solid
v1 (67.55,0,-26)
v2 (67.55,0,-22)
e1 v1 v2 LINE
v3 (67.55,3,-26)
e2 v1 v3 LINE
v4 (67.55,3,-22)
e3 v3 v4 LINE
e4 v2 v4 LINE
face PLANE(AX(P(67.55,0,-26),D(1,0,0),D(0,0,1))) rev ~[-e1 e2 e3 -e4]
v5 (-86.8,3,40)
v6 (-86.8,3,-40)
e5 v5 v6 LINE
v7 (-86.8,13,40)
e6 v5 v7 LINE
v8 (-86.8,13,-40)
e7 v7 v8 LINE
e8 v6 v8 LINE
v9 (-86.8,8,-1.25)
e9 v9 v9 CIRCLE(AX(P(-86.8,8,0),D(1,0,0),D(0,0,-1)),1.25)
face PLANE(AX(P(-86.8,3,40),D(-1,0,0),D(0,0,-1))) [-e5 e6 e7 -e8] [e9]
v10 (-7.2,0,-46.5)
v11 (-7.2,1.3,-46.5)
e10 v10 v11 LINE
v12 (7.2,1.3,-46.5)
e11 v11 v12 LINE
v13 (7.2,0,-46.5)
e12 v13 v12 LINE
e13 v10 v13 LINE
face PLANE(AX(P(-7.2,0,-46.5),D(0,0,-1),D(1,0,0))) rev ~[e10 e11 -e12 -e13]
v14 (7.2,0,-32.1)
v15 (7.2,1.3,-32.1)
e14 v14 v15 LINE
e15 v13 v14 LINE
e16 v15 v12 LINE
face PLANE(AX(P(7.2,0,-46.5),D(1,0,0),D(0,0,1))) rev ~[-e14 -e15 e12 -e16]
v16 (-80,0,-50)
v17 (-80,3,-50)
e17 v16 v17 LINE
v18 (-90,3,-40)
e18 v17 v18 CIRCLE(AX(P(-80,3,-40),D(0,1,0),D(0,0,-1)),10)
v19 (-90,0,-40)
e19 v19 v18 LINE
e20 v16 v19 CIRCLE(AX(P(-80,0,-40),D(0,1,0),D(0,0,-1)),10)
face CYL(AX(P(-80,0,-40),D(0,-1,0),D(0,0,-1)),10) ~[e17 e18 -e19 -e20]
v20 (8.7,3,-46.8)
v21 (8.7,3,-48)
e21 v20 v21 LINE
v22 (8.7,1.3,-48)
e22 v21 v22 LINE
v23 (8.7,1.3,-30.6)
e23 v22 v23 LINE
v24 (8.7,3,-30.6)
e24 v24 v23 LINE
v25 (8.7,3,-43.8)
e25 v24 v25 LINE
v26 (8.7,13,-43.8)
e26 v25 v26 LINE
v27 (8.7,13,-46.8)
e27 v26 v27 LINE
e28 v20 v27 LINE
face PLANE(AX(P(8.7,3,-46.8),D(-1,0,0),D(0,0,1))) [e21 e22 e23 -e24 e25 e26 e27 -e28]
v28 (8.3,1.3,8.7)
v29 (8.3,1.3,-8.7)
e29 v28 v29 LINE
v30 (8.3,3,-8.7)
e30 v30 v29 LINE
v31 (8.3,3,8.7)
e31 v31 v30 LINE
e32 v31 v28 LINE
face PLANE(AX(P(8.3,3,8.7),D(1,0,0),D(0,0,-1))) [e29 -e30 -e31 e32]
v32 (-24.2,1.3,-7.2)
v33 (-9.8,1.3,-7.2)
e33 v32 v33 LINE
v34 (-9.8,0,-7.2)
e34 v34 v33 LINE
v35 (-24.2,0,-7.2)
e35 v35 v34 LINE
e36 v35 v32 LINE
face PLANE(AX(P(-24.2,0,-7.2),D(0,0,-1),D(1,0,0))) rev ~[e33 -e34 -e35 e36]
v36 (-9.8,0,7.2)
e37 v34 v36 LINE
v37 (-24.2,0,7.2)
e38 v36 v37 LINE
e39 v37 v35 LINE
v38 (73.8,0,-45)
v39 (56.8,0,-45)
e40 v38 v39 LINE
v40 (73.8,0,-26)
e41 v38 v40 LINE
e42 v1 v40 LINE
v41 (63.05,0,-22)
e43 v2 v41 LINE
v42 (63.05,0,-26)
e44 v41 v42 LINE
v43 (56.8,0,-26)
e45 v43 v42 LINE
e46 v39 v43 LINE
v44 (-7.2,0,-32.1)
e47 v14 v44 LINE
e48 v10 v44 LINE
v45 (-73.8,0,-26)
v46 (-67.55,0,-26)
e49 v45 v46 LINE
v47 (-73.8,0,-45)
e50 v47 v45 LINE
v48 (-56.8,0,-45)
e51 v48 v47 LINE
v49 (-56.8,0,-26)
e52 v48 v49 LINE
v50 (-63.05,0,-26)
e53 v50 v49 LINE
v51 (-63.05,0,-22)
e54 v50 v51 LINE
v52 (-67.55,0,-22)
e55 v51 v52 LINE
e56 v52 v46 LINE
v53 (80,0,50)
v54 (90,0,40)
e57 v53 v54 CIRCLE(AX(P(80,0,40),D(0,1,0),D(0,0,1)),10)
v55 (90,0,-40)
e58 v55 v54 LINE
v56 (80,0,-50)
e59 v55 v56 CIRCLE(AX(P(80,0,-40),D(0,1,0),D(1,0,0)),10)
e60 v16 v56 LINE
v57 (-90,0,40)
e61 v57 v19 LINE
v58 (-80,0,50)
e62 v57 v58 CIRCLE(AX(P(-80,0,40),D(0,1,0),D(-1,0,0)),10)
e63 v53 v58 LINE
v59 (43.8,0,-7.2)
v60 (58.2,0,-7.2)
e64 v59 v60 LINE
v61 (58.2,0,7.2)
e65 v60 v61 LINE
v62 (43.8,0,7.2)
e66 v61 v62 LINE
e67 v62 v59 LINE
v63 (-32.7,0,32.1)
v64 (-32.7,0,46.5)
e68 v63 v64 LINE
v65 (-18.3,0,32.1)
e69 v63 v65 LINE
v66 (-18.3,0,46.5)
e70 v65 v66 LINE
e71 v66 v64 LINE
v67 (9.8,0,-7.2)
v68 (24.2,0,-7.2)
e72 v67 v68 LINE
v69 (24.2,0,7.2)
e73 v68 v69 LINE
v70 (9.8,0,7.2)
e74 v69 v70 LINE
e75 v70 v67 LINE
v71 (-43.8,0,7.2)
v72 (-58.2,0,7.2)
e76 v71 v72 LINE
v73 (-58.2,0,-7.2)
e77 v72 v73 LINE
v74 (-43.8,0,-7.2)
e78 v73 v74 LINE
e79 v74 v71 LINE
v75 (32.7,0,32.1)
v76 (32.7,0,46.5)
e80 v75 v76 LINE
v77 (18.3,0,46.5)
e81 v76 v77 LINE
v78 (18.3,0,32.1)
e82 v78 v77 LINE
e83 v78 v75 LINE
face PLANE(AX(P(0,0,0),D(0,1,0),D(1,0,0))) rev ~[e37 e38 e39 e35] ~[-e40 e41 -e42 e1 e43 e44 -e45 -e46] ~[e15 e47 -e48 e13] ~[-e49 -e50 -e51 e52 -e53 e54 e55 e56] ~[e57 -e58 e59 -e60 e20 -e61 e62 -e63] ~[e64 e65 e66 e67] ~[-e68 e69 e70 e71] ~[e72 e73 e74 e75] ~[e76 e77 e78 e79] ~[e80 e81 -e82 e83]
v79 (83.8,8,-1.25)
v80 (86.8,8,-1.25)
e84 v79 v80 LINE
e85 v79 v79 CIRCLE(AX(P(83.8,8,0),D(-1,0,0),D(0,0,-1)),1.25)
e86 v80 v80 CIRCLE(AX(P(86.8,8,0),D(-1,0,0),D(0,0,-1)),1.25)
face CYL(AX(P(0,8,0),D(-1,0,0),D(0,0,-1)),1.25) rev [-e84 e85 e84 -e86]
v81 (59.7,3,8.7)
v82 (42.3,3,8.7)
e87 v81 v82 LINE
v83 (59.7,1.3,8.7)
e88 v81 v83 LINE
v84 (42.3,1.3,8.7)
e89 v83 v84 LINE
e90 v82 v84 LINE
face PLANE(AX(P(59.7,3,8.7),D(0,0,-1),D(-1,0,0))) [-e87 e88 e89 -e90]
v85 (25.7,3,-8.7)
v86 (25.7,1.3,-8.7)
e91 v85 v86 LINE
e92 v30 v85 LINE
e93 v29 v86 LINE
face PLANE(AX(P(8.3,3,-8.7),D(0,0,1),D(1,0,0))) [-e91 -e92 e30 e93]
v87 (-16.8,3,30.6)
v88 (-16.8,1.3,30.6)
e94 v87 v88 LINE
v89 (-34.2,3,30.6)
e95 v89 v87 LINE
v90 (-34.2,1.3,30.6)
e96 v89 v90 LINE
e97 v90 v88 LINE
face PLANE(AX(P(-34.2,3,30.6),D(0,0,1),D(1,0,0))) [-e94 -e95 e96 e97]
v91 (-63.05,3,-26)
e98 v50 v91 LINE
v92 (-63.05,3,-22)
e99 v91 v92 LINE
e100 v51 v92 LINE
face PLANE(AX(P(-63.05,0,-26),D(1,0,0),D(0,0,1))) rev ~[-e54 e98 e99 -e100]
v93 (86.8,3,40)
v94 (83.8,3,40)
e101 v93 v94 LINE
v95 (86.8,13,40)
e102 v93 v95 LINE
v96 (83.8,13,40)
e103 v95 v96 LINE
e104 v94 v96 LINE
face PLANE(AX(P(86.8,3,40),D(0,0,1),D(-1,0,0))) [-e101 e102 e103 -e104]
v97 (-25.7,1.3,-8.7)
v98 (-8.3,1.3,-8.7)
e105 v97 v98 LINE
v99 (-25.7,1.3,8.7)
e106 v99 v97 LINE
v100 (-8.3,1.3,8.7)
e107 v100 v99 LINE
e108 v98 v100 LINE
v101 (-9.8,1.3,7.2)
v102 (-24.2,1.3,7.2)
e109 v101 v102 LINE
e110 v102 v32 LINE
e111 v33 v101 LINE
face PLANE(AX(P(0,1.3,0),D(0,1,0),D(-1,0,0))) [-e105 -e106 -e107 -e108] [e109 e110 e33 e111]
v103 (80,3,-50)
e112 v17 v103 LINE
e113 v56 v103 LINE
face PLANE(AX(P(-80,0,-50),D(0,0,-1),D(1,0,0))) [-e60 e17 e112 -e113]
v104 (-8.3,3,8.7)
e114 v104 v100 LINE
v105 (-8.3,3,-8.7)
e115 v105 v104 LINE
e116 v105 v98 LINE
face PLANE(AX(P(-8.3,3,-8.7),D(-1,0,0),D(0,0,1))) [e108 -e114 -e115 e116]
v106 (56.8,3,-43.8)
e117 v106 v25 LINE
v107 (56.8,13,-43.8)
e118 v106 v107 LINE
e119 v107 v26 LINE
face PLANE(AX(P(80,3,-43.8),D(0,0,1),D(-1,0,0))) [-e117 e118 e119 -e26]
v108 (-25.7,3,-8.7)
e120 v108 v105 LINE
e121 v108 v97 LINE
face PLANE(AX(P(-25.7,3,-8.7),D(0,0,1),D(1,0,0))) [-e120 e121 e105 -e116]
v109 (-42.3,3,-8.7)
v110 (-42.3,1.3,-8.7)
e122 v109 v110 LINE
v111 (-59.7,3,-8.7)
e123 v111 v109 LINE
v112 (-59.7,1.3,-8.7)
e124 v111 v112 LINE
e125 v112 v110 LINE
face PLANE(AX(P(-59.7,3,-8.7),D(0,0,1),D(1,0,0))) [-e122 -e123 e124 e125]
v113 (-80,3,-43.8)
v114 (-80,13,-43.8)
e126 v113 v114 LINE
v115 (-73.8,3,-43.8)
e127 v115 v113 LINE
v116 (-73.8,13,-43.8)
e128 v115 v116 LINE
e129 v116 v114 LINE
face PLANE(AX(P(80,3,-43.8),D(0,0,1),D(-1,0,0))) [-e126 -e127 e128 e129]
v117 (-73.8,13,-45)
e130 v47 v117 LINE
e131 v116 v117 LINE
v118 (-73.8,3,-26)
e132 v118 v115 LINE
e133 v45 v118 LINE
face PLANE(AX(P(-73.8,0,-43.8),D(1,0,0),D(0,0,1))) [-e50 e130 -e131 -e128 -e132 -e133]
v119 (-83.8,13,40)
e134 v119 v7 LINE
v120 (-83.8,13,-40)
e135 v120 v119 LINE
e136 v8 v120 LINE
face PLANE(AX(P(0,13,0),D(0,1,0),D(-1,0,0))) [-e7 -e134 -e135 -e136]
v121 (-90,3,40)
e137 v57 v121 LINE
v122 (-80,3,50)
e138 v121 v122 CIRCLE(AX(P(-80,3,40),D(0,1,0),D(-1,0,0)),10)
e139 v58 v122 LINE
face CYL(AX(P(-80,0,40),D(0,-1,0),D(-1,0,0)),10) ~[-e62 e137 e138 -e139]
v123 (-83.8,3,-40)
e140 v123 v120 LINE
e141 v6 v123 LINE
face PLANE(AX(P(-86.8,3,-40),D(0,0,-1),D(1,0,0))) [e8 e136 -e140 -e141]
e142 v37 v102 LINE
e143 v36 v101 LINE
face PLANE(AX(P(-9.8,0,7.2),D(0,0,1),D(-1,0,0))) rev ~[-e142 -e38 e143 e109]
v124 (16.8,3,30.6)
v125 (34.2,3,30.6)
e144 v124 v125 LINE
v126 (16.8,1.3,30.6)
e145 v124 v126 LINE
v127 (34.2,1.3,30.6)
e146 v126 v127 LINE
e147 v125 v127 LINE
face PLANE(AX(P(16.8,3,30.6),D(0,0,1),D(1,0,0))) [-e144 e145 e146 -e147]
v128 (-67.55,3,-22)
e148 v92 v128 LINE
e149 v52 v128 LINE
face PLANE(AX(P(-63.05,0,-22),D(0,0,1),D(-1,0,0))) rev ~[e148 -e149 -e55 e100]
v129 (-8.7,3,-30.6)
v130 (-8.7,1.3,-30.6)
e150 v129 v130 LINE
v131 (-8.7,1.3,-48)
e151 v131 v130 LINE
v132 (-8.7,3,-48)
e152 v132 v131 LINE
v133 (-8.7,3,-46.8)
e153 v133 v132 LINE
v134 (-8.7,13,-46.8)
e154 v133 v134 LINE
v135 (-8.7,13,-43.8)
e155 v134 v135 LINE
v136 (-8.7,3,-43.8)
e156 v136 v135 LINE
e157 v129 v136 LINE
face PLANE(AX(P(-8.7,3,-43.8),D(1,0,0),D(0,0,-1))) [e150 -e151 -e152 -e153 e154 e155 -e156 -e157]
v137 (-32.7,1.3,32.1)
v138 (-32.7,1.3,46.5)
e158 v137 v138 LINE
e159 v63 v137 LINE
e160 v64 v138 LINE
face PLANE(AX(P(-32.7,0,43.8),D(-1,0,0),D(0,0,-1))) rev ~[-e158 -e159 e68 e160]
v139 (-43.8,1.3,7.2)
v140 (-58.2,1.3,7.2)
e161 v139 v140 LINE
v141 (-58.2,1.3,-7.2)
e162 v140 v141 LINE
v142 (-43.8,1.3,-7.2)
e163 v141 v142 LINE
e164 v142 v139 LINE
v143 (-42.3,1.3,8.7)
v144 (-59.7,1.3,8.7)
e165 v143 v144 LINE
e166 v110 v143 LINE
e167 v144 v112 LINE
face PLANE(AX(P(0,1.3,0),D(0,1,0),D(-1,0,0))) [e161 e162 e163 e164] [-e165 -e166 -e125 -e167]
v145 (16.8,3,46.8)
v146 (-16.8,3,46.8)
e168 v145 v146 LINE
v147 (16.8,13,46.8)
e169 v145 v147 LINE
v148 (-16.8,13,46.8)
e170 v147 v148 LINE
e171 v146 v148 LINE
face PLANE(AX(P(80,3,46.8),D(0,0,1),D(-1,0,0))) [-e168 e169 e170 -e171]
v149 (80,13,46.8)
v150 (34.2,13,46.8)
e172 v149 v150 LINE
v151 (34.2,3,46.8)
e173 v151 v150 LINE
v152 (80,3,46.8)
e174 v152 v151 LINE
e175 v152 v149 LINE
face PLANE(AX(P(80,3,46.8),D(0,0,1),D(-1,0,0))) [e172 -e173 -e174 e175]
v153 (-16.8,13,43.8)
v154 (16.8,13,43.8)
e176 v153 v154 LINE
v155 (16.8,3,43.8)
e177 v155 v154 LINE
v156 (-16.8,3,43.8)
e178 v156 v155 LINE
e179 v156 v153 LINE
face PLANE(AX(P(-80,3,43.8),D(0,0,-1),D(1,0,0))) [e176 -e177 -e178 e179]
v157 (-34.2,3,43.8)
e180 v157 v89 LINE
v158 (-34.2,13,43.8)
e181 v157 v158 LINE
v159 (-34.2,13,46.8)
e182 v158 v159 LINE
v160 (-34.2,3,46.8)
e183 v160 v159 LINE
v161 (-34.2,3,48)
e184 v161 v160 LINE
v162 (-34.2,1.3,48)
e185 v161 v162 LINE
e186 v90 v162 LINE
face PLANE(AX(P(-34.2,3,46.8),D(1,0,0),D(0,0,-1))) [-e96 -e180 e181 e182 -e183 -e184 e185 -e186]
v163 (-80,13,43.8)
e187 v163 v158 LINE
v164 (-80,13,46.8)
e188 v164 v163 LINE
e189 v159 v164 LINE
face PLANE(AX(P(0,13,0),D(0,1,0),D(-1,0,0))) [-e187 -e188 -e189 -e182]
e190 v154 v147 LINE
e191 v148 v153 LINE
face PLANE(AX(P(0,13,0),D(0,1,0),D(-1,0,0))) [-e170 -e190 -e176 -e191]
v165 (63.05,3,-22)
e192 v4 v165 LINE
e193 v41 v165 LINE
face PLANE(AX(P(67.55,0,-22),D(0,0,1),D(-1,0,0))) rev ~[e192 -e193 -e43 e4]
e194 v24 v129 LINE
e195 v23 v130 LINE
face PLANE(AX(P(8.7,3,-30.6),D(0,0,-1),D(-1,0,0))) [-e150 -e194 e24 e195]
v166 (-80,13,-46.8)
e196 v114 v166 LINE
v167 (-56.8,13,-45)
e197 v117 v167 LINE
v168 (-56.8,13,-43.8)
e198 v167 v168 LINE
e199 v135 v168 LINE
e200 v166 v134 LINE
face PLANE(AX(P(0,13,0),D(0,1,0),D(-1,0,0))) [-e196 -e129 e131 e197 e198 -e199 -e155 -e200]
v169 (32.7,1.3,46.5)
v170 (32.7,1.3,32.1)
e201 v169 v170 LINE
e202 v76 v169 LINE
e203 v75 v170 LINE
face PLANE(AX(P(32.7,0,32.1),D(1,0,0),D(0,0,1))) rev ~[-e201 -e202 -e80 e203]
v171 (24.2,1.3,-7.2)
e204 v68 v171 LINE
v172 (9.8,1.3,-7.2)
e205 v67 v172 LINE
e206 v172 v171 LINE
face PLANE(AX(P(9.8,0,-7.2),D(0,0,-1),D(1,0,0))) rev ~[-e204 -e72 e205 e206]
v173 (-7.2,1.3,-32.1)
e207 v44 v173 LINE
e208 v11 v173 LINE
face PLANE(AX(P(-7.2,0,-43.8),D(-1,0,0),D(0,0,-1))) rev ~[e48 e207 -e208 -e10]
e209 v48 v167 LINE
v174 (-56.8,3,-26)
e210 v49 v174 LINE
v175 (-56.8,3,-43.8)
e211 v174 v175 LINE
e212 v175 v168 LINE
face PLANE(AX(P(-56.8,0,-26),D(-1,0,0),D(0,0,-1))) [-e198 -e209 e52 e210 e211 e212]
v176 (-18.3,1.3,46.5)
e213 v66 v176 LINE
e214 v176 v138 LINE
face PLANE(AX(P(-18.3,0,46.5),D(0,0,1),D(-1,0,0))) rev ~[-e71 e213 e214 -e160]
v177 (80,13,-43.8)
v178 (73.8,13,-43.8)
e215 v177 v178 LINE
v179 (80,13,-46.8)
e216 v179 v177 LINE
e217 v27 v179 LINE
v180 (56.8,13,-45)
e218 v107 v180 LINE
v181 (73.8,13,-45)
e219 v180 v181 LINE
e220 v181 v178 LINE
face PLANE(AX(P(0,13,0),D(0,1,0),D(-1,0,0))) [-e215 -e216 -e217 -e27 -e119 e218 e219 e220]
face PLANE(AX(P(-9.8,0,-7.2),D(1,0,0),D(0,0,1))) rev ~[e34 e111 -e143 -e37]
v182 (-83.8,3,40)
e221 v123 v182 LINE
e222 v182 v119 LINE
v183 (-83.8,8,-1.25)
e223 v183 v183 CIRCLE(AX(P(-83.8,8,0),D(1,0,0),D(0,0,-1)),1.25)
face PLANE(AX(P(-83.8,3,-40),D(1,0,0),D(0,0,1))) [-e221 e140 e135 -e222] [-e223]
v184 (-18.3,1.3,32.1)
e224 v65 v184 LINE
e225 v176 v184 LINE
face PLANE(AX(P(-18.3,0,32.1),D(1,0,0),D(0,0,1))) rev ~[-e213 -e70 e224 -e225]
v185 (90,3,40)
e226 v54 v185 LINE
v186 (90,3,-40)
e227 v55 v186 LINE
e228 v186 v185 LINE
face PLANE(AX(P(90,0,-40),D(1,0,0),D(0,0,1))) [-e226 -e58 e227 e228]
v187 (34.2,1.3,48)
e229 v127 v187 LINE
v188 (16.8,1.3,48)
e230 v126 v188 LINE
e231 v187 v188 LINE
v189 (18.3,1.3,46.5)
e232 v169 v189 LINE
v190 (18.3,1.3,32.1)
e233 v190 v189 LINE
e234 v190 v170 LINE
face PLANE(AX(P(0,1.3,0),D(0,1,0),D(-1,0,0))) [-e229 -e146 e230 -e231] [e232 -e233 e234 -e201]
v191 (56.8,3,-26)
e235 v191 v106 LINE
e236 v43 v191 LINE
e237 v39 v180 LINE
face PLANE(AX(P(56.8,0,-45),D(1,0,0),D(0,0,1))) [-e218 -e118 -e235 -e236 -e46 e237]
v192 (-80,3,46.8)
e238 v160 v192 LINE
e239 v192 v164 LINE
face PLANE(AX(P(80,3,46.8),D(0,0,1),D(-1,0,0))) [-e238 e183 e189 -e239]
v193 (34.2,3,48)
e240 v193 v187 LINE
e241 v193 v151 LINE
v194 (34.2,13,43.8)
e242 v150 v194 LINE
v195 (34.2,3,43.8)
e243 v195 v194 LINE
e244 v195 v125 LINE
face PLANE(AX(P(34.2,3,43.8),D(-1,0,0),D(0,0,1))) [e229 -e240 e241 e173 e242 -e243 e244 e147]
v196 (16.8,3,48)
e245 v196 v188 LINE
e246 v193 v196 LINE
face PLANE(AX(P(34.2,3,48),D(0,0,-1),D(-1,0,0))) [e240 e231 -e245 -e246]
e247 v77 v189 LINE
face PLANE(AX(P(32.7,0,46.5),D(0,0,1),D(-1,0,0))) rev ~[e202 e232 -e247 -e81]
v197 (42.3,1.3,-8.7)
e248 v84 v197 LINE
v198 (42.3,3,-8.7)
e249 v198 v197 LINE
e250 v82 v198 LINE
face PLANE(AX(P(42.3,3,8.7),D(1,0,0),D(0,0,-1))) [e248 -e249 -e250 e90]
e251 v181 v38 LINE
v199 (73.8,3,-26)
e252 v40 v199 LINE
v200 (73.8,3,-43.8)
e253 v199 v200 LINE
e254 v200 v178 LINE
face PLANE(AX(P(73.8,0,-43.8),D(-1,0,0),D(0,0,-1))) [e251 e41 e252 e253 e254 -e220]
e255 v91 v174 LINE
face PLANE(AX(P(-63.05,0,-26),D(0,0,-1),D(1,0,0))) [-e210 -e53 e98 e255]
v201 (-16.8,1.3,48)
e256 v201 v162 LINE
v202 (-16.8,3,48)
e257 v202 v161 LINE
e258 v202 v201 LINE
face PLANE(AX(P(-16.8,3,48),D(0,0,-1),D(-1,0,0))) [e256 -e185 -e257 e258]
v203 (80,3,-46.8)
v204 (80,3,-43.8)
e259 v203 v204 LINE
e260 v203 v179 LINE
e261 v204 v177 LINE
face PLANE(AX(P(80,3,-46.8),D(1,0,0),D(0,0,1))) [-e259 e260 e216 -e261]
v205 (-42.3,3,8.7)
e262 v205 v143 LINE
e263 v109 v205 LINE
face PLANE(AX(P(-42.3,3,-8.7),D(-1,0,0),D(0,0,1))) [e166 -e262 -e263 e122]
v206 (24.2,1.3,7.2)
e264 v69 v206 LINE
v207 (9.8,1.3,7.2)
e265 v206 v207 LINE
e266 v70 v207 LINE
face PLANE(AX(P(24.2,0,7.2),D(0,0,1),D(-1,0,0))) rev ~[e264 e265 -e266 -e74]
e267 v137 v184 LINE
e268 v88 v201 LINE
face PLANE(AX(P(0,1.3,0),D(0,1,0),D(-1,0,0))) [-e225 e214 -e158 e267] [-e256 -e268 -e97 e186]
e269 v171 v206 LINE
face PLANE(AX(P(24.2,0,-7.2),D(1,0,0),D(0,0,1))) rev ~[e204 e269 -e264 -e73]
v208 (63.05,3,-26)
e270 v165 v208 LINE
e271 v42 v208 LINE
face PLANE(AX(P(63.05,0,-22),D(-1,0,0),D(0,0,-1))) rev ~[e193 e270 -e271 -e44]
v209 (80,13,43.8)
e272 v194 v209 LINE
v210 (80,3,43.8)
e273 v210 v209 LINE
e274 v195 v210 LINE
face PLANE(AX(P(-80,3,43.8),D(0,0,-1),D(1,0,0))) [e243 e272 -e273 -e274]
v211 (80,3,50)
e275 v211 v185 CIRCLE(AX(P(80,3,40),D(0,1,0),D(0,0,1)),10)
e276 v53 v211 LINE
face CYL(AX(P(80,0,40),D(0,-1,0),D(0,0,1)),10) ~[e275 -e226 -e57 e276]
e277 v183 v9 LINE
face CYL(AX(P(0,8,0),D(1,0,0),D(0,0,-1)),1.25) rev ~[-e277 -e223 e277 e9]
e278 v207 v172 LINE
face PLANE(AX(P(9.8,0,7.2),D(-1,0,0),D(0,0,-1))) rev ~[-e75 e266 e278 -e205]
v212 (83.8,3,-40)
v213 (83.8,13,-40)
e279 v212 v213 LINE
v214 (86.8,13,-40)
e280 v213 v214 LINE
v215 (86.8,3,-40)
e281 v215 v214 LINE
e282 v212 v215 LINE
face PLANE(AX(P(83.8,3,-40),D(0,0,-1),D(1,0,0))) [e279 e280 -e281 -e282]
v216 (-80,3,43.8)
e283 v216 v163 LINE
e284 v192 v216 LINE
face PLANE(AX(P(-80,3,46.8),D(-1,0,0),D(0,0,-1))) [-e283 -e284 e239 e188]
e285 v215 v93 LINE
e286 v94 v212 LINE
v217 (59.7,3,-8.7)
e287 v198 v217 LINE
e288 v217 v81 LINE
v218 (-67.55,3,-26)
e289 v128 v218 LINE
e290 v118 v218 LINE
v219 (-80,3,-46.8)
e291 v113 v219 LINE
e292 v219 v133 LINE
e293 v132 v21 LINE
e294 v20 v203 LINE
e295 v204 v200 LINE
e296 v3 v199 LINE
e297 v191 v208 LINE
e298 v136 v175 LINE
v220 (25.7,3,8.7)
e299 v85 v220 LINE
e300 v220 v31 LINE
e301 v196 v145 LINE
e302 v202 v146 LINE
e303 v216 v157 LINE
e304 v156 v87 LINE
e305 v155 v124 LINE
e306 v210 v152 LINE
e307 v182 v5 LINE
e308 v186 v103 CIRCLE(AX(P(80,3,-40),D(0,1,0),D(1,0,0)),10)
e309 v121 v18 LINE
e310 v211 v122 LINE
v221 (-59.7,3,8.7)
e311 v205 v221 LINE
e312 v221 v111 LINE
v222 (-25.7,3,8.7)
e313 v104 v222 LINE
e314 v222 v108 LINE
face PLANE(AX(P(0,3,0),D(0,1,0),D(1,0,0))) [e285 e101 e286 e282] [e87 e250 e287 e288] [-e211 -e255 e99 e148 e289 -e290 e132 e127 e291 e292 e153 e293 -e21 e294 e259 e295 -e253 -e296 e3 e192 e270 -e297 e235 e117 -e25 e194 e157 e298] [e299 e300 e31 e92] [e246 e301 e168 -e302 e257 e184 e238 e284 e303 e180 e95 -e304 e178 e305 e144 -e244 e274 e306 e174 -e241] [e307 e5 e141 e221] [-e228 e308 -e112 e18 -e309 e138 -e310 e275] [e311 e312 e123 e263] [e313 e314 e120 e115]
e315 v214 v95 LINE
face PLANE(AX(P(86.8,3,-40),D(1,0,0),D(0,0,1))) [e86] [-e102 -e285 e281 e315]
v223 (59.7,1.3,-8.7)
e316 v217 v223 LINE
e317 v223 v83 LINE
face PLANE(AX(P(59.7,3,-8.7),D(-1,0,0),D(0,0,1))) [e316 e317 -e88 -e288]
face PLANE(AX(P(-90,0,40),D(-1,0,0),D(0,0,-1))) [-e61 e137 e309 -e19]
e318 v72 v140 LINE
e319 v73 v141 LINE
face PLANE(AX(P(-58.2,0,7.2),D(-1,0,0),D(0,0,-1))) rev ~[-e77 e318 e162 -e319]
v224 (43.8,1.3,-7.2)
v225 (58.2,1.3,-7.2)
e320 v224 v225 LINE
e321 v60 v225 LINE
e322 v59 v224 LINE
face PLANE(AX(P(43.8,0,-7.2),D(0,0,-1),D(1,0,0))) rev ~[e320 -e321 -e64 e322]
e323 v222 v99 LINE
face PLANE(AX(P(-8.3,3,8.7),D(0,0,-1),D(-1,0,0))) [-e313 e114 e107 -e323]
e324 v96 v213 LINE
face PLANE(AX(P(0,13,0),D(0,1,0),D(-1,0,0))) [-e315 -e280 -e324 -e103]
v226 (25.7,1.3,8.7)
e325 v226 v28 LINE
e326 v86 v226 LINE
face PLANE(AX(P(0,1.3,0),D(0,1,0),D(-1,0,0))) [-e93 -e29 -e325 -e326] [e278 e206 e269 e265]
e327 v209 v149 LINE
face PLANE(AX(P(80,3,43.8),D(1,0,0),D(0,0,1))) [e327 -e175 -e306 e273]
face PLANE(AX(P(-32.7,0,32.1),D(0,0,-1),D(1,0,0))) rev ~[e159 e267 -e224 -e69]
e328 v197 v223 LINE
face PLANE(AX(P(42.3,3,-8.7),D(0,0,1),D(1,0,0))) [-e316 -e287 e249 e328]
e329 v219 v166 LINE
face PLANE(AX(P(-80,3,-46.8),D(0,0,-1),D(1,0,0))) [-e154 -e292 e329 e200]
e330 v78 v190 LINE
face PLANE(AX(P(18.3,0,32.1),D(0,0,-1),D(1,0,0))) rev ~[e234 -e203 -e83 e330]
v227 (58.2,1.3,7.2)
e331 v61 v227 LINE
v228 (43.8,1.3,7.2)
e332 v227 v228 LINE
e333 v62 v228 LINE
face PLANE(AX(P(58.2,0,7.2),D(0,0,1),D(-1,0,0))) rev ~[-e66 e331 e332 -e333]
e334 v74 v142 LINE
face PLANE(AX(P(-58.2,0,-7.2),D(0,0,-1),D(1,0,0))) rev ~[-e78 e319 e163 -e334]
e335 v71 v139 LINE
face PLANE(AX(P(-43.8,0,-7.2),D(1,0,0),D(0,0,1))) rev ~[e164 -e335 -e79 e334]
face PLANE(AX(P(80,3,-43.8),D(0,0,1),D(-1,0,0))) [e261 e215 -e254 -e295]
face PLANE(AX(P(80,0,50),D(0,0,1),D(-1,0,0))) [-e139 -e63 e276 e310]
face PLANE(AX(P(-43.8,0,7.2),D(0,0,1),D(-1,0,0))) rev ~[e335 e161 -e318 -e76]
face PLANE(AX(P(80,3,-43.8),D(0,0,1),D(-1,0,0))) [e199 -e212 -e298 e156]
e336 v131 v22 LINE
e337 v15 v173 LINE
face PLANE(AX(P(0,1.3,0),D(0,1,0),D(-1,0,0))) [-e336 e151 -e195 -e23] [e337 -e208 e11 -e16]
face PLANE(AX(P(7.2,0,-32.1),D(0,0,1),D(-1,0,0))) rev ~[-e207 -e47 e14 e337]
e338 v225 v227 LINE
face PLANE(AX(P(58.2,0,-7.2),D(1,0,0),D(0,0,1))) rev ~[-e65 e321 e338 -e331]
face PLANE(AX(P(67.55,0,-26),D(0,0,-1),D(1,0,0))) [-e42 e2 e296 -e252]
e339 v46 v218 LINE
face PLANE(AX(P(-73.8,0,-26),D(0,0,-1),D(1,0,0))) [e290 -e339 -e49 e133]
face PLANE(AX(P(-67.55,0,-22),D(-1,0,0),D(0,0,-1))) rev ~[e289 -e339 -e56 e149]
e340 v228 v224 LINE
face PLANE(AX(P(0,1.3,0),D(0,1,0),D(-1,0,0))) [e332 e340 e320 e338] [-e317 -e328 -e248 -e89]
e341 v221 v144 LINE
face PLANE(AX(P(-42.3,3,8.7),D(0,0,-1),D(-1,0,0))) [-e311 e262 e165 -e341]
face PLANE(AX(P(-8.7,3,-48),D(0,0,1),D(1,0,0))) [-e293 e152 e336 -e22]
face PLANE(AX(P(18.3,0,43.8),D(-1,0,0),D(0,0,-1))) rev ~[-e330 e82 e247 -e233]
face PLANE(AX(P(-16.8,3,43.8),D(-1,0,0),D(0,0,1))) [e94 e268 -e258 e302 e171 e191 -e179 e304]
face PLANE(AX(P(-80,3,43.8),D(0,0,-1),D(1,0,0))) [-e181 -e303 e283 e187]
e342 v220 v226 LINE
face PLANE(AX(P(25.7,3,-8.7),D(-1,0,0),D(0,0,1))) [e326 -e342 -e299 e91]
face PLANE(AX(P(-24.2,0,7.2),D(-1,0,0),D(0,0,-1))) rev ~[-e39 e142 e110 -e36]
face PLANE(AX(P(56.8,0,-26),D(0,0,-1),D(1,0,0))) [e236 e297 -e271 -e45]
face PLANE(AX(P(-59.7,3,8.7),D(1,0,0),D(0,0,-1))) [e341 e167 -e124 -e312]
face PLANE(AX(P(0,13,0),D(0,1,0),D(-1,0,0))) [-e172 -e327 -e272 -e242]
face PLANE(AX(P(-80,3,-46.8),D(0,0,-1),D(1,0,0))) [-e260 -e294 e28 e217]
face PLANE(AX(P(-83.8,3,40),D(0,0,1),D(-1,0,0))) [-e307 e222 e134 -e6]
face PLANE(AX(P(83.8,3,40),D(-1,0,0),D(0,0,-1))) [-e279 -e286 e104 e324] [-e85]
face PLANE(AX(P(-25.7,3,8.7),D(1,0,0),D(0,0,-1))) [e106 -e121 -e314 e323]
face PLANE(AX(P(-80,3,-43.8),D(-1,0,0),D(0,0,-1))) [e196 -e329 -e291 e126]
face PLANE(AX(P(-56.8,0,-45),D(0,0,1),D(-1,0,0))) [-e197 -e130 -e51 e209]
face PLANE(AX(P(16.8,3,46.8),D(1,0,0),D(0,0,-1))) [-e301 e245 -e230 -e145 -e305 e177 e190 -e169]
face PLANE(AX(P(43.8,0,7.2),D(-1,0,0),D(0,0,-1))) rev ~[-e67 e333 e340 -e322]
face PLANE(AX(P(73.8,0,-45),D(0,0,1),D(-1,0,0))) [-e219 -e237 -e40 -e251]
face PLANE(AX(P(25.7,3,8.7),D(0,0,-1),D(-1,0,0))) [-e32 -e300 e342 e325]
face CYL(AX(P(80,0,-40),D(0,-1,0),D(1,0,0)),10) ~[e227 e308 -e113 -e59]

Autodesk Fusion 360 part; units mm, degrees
sketch "Top" plane through (0, 0, 0) normal (0, 1, 0) x (1, 0, 0)
  line L0 (-80, 50) -> (80, 50)
  line L1 (90, 40) -> (90, -40)
  line L2 (80, -50) -> (-80, -50)
  line L3 (-90, -40) -> (-90, 40)
  line L4 (-90, 50) -> (90, -50) construction
  line L5 (90, 50) -> (-90, -50) construction
  arc A0 (-80, 50) -> (-90, 40) centre (-80, 40) ccw
  arc A1 (90, 40) -> (80, 50) centre (80, 40) ccw
  arc A2 (80, -50) -> (90, -40) centre (80, -40) ccw
  arc A3 (-90, -40) -> (-80, -50) centre (-80, -40) ccw
  dimension "d310" = 180
  dimension "d311" = 100
  dimension "d312" = 10
extrude "Extrude37" add sketch "Top" along normal blind 3
sketch "Tabs" plane through (0, 3, 0) normal (0, 1, 0) x (-1, 0, 0)
  arc A0 (80, -50) -> (90, -40) centre (80, -40) ccw
  line L0 (90, -40) -> (90, 40)
  arc A1 (90, 40) -> (80, 50) centre (80, 40) ccw
  line L1 (80, 50) -> (-80, 50)
  arc A2 (-80, 50) -> (-90, 40) centre (-80, 40) ccw
  line L2 (-90, 40) -> (-90, -40)
  arc A3 (-90, -40) -> (-80, -50) centre (-80, -40) ccw
  line L3 (-80, -50) -> (80, -50)
  line L4 (86.8, -40) -> (83.8, -40)
  line L5 (83.8, -40) -> (83.8, 40)
  line L6 (83.8, 40) -> (86.8, 40)
  line L7 (86.8, 40) -> (86.8, -40)
  line L8 (86.8, -40) -> (83.8, 40) construction
  line L9 (83.8, -40) -> (86.8, 40) construction
  line L10 (80, -46.8) -> (-80, -46.8)
  line L11 (-80, -46.8) -> (-80, -43.8)
  line L12 (-80, -43.8) -> (80, -43.8)
  line L13 (80, -43.8) -> (80, -46.8)
  line L14 (80, -46.8) -> (-80, -43.8) construction
  line L15 (-80, -46.8) -> (80, -43.8) construction
  line L16 (80, 43.8) -> (-80, 43.8)
  line L17 (-80, 43.8) -> (-80, 46.8)
  line L18 (-80, 46.8) -> (80, 46.8)
  line L19 (80, 46.8) -> (80, 43.8)
  line L20 (80, 43.8) -> (-80, 46.8) construction
  line L21 (-80, 43.8) -> (80, 46.8) construction
  line L22 (-83.8, -40) -> (-86.8, -40)
  line L23 (-86.8, -40) -> (-86.8, 40)
  line L24 (-86.8, 40) -> (-83.8, 40)
  line L25 (-83.8, 40) -> (-83.8, -40)
  line L26 (-83.8, -40) -> (-86.8, 40) construction
  line L27 (-86.8, -40) -> (-83.8, 40) construction
  point P0 (85.3, 0)
  point P1 (0, -45.3)
  point P2 (0, 45.3)
  point P3 (-85.3, 0)
  dimension "d315" = 3
  dimension "d316" = 10
  dimension "d317" = 10
  dimension "d318" = 3.2
  dimension "d319" = 3
  dimension "d320" = 10
  dimension "d321" = 10
  dimension "d322" = 3.2
  dimension "d324" = 3
  dimension "d325" = 10
  dimension "d326" = 10
  dimension "d327" = 3
  dimension "d329" = 10
  dimension "d330" = 10
  dimension "d333" = 3.2
  dimension "d334" = 3.2
extrude "Extrude38" add sketch "Tabs" along normal blind 10 contours L4 L5 L6 L7 | L10 L11 L12 L13 | L16 L17 L18 L19 | L22 L23 L24 L25
sketch "Switches" plane through (0, 3, 0) normal (0, 1, 0) x (-1, 0, 0)
  line L0 (86.8, 40) -> (86.8, -40)
  line L1 (86.8, -40) -> (83.8, -40)
  line L2 (83.8, -40) -> (83.8, 40)
  line L3 (83.8, 40) -> (86.8, 40)
  line L4 (80, -43.8) -> (80, -46.8)
  line L5 (80, -46.8) -> (-80, -46.8)
  line L6 (-80, -46.8) -> (-80, -43.8)
  line L7 (-80, -43.8) -> (80, -43.8)
  line L8 (80, 46.8) -> (80, 43.8)
  line L9 (80, 43.8) -> (-80, 43.8)
  line L10 (-80, 43.8) -> (-80, 46.8)
  line L11 (-80, 46.8) -> (80, 46.8)
  line L12 (-83.8, 40) -> (-83.8, -40)
  line L13 (-83.8, -40) -> (-86.8, -40)
  line L14 (-86.8, -40) -> (-86.8, 40)
  line L15 (-86.8, 40) -> (-83.8, 40)
  arc A0 (80, -50) -> (90, -40) centre (80, -40) ccw
  line L16 (90, -40) -> (90, 40)
  arc A1 (90, 40) -> (80, 50) centre (80, 40) ccw
  line L17 (80, 50) -> (-80, 50)
  arc A2 (-80, 50) -> (-90, 40) centre (-80, 40) ccw
  line L18 (-90, 40) -> (-90, -40)
  arc A3 (-90, -40) -> (-80, -50) centre (-80, -40) ccw
  line L19 (-80, -50) -> (80, -50)
  line L20 (-59.7, 8.7) -> (-42.3, 8.7)
  line L21 (-42.3, 8.7) -> (-42.3, -8.7)
  line L22 (-58.2, -7.2) -> (-58.2, 7.2)
  line L23 (-42.3, -8.7) -> (-59.7, -8.7)
  line L24 (-43.8, 7.2) -> (-43.8, -7.2)
  line L25 (-58.2, 7.2) -> (-43.8, 7.2)
  line L26 (-43.8, -7.2) -> (-58.2, 7.2) construction
  line L27 (-59.7, -8.7) -> (-59.7, 8.7)
  line L28 (-59.7, -8.7) -> (-42.3, 8.7) construction
  line L29 (-58.2, -7.2) -> (-43.8, 7.2) construction
  line L30 (-42.3, -8.7) -> (-59.7, 8.7) construction
  line L31 (-43.8, -7.2) -> (-58.2, -7.2)
  line L32 (24.2, 7.2) -> (24.2, -7.2)
  line L33 (8.3, -8.7) -> (8.3, 8.7)
  line L34 (25.7, -8.7) -> (8.3, 8.7) construction
  line L35 (9.8, 7.2) -> (24.2, 7.2)
  line L36 (24.2, -7.2) -> (9.8, 7.2) construction
  line L37 (8.3, -8.7) -> (25.7, 8.7) construction
  line L38 (9.8, -7.2) -> (24.2, 7.2) construction
  line L39 (24.2, -7.2) -> (9.8, -7.2)
  line L40 (25.7, 8.7) -> (25.7, -8.7)
  line L41 (9.8, -7.2) -> (9.8, 7.2)
  line L42 (25.7, -8.7) -> (8.3, -8.7)
  line L43 (8.3, 8.7) -> (25.7, 8.7)
  line L44 (-18.3, 32.1) -> (-32.7, 46.5) construction
  line L45 (-32.7, 46.5) -> (-18.3, 46.5)
  line L46 (-16.8, 30.6) -> (-34.2, 30.6)
  line L47 (-34.2, 48) -> (-16.8, 48)
  line L48 (-32.7, 32.1) -> (-32.7, 46.5)
  line L49 (-16.8, 48) -> (-16.8, 30.6)
  line L50 (-34.2, 30.6) -> (-34.2, 48)
  line L51 (-16.8, 30.6) -> (-34.2, 48) construction
  line L52 (-18.3, 32.1) -> (-32.7, 32.1)
  line L53 (-32.7, 32.1) -> (-18.3, 46.5) construction
  line L54 (-34.2, 30.6) -> (-16.8, 48) construction
  line L55 (-18.3, 46.5) -> (-18.3, 32.1)
  line L56 (16.8, 30.6) -> (34.2, 48) construction
  line L57 (18.3, 46.5) -> (32.7, 46.5)
  line L58 (34.2, 48) -> (34.2, 30.6)
  line L59 (18.3, 32.1) -> (32.7, 46.5) construction
  line L60 (32.7, 32.1) -> (18.3, 32.1)
  line L61 (16.8, 30.6) -> (16.8, 48)
  line L62 (32.7, 46.5) -> (32.7, 32.1)
  line L63 (16.8, 48) -> (34.2, 48)
  line L64 (34.2, 30.6) -> (16.8, 48) construction
  line L65 (34.2, 30.6) -> (16.8, 30.6)
  line L66 (18.3, 32.1) -> (18.3, 46.5)
  line L67 (32.7, 32.1) -> (18.3, 46.5) construction
  line L68 (-8.7, -48) -> (-8.7, -30.6)
  line L69 (-7.2, -46.5) -> (-7.2, -32.1)
  line L70 (7.2, -32.1) -> (7.2, -46.5)
  line L71 (-7.2, -46.5) -> (7.2, -32.1) construction
  line L72 (8.7, -30.6) -> (8.7, -48)
  line L73 (8.7, -48) -> (-8.7, -48)
  line L74 (7.2, -46.5) -> (-7.2, -32.1) construction
  line L75 (8.7, -48) -> (-8.7, -30.6) construction
  line L76 (-8.7, -48) -> (8.7, -30.6) construction
  line L77 (-8.7, -30.6) -> (8.7, -30.6)
  line L78 (7.2, -46.5) -> (-7.2, -46.5)
  line L79 (-7.2, -32.1) -> (7.2, -32.1)
  line L80 (42.3, -8.7) -> (42.3, 8.7)
  line L81 (43.8, 7.2) -> (58.2, 7.2)
  line L82 (42.3, 8.7) -> (59.7, 8.7)
  line L83 (59.7, -8.7) -> (42.3, -8.7)
  line L84 (58.2, -7.2) -> (43.8, -7.2)
  line L85 (58.2, 7.2) -> (58.2, -7.2)
  line L86 (42.3, -8.7) -> (59.7, 8.7) construction
  line L87 (59.7, -8.7) -> (42.3, 8.7) construction
  line L88 (43.8, -7.2) -> (43.8, 7.2)
  line L89 (43.8, -7.2) -> (58.2, 7.2) construction
  line L90 (58.2, -7.2) -> (43.8, 7.2) construction
  line L91 (59.7, 8.7) -> (59.7, -8.7)
  line L92 (-25.7, 8.7) -> (-8.3, 8.7)
  line L93 (-25.7, -8.7) -> (-8.3, 8.7) construction
  line L94 (-25.7, -8.7) -> (-25.7, 8.7)
  line L95 (-9.8, 7.2) -> (-9.8, -7.2)
  line L96 (-9.8, -7.2) -> (-24.2, -7.2)
  line L97 (-8.3, -8.7) -> (-25.7, 8.7) construction
  line L98 (-24.2, -7.2) -> (-9.8, 7.2) construction
  line L99 (-8.3, -8.7) -> (-25.7, -8.7)
  line L100 (-24.2, -7.2) -> (-24.2, 7.2)
  line L101 (-9.8, -7.2) -> (-24.2, 7.2) construction
  line L102 (-8.3, 8.7) -> (-8.3, -8.7)
  line L103 (-24.2, 7.2) -> (-9.8, 7.2)
  line L104 (80, 50) -> (-80, 50)
  point P0 (-51, 0)
  point P1 (17, 0)
  point P2 (-25.5, 39.3)
  point P3 (25.5, 39.3)
  point P4 (0, -39.3)
  point P5 (51, 0)
  point P6 (-17, 0)
  dimension "d345" = 14.4
  dimension "d346" = 14.4
  dimension "d347" = 1.5
  dimension "d348" = 1.5
  dimension "d349" = 1.5
  dimension "d350" = 1.5
  dimension "d363" = 14.4
  dimension "d364" = 14.4
  dimension "d365" = 1.5
  dimension "d366" = 1.5
  dimension "d367" = 1.5
  dimension "d368" = 1.5
  dimension "d369" = 14.4
  dimension "d370" = 14.4
  dimension "d371" = 1.5
  dimension "d372" = 1.5
  dimension "d373" = 1.5
  dimension "d374" = 1.5
  dimension "d375" = 14.4
  dimension "d376" = 14.4
  dimension "d377" = 1.5
  dimension "d378" = 1.5
  dimension "d379" = 1.5
  dimension "d380" = 1.5
  dimension "d381" = 14.4
  dimension "d382" = 14.4
  dimension "d383" = 1.5
  dimension "d384" = 1.5
  dimension "d385" = 1.5
  dimension "d386" = 1.5
  dimension "d387" = 14.4
  dimension "d388" = 14.4
  dimension "d389" = 1.5
  dimension "d390" = 1.5
  dimension "d391" = 1.5
  dimension "d392" = 1.5
  dimension "d393" = 14.4
  dimension "d394" = 14.4
  dimension "d395" = 1.5
  dimension "d396" = 1.5
  dimension "d397" = 1.5
  dimension "d398" = 1.5
  dimension "d404" = 51
  dimension "d405" = 25.5
  dimension "d406" = 34
  dimension "d407" = 34
  dimension "d408" = 34
  dimension "d409" = 17
  dimension "d445" = 2
  dimension "d446" = 2
  dimension "d447" = 2
extrude "Extrude40" cut sketch "Switches" against normal blind 1.7 contours L5 L7 L68 L69 L70 L72 L78 | L7 L68 L69 L70 L72 L77 L79 | L5 L68 L72 L73 | L9 L11 L57 L58 L61 L62 L66 | L11 L58 L61 L63 | L9 L58 L60 L61 L62 L65 L66 | L9 L11 L45 L48 L49 L50 L55 | L11 L47 L49 L50 | L9 L46 L48 L49 L50 L52 L55 | L20 L21 L23 L27 | L33 L40 L42 L43 | L80 L82 L83 L91 | L92 L94 L99 L102
extrude "Extrude41" cut sketch "Switches" along normal blind 3 from surface at -3 contours L7 L69 L70 L78 | L7 L69 L70 L79 | L9 L60 L62 L66 | L9 L57 L62 L66 | L9 L48 L52 L55 | L9 L45 L48 L55 | L22 L24 L25 L31 | L32 L35 L39 L41 | L81 L84 L85 L88 | L95 L96 L100 L103
sketch "Tab Holes" plane through (0, 0, 0) normal (1, 0, 0) x (0, 0, -1)
  circle A0 centre (0, 8) radius 1.25
  line L0 (-40, 3) -> (40, 3)
  dimension "d418" = 2.5
  dimension "d419" = 5
extrude "Extrude42" cut sketch "Tab Holes" along normal through all and the other way through all
sketch "Encoders" plane through (0, 3, 0) normal (0, 1, 0) x (-1, 0, 0)
  line L0 (73.8, -26) -> (56.8, -26)
  line L1 (56.8, -26) -> (56.8, -45)
  line L2 (56.8, -45) -> (73.8, -45)
  line L3 (73.8, -45) -> (73.8, -26)
  line L4 (73.8, -26) -> (56.8, -45) construction
  line L5 (56.8, -26) -> (73.8, -45) construction
  line L6 (67.55, -26) -> (63.05, -26)
  line L7 (63.05, -26) -> (63.05, -22)
  line L8 (63.05, -22) -> (67.55, -22)
  line L9 (67.55, -22) -> (67.55, -26)
  arc A0 (80, -50) -> (90, -40) centre (80, -40) ccw
  line L10 (90, -40) -> (90, 40)
  arc A1 (90, 40) -> (80, 50) centre (80, 40) ccw
  line L11 (80, 50) -> (-80, 50)
  arc A2 (-80, 50) -> (-90, 40) centre (-80, 40) ccw
  line L12 (-90, 40) -> (-90, -40)
  arc A3 (-90, -40) -> (-80, -50) centre (-80, -40) ccw
  line L13 (-80, -50) -> (80, -50)
  line L14 (-83.8, 40) -> (-83.8, -40)
  line L15 (-83.8, -40) -> (-86.8, -40)
  line L16 (-86.8, -40) -> (-86.8, 40)
  line L17 (-86.8, 40) -> (-83.8, 40)
  line L18 (80, 46.8) -> (80, 43.8)
  line L19 (80, 43.8) -> (34.2, 43.8)
  line L20 (-80, 43.8) -> (-80, 46.8)
  line L21 (-16.8, 46.8) -> (16.8, 46.8)
  line L22 (80, -43.8) -> (80, -46.8)
  line L23 (-8.7, -46.8) -> (-80, -46.8)
  line L24 (-80, -46.8) -> (-80, -43.8)
  line L25 (-80, -43.8) -> (-8.7, -43.8)
  line L26 (86.8, 40) -> (86.8, -40)
  line L27 (86.8, -40) -> (83.8, -40)
  line L28 (83.8, -40) -> (83.8, 40)
  line L29 (83.8, 40) -> (86.8, 40)
  line L30 (16.8, 48) -> (34.2, 48)
  line L31 (34.2, 48) -> (34.2, 46.8)
  line L32 (34.2, 30.6) -> (16.8, 30.6)
  line L33 (16.8, 46.8) -> (16.8, 48)
  line L34 (8.7, -48) -> (-8.7, -48)
  line L35 (-8.7, -48) -> (-8.7, -46.8)
  line L36 (-8.7, -30.6) -> (8.7, -30.6)
  line L37 (8.7, -30.6) -> (8.7, -43.8)
  line L38 (25.7, -8.7) -> (8.3, -8.7)
  line L39 (8.3, -8.7) -> (8.3, 8.7)
  line L40 (8.3, 8.7) -> (25.7, 8.7)
  line L41 (25.7, 8.7) -> (25.7, -8.7)
  line L42 (-16.8, 48) -> (-16.8, 46.8)
  line L43 (-16.8, 30.6) -> (-34.2, 30.6)
  line L44 (-34.2, 46.8) -> (-34.2, 48)
  line L45 (-34.2, 48) -> (-16.8, 48)
  line L46 (-25.7, -8.7) -> (-25.7, 8.7)
  line L47 (-25.7, 8.7) -> (-8.3, 8.7)
  line L48 (-8.3, 8.7) -> (-8.3, -8.7)
  line L49 (-8.3, -8.7) -> (-25.7, -8.7)
  line L50 (42.3, -8.7) -> (42.3, 8.7)
  line L51 (42.3, 8.7) -> (59.7, 8.7)
  line L52 (59.7, 8.7) -> (59.7, -8.7)
  line L53 (59.7, -8.7) -> (42.3, -8.7)
  line L54 (-42.3, 8.7) -> (-42.3, -8.7)
  line L55 (-42.3, -8.7) -> (-59.7, -8.7)
  line L56 (-59.7, -8.7) -> (-59.7, 8.7)
  line L57 (-59.7, 8.7) -> (-42.3, 8.7)
  line L58 (-56.8, -26) -> (-73.8, -26)
  line L59 (-67.55, -22) -> (-63.05, -22)
  line L60 (-73.8, -45) -> (-56.8, -45)
  line L61 (-67.55, -26) -> (-67.55, -22)
  line L62 (-73.8, -26) -> (-73.8, -45)
  line L63 (-63.05, -22) -> (-63.05, -26)
  line L64 (-56.8, -26) -> (-73.8, -45) construction
  line L65 (-73.8, -26) -> (-56.8, -45) construction
  line L66 (-56.8, -45) -> (-56.8, -26)
  line L67 (-63.05, -26) -> (-67.55, -26)
  line L68 (34.2, 46.8) -> (80, 46.8)
  line L69 (34.2, 43.8) -> (34.2, 30.6)
  line L70 (16.8, 30.6) -> (16.8, 43.8)
  line L71 (16.8, 43.8) -> (-16.8, 43.8)
  line L72 (-16.8, 43.8) -> (-16.8, 30.6)
  line L73 (-34.2, 30.6) -> (-34.2, 43.8)
  line L74 (-34.2, 43.8) -> (-80, 43.8)
  line L75 (-80, 46.8) -> (-34.2, 46.8)
  line L76 (-8.7, -43.8) -> (-8.7, -30.6)
  line L77 (8.7, -43.8) -> (80, -43.8)
  line L78 (80, -46.8) -> (8.7, -46.8)
  line L79 (8.7, -46.8) -> (8.7, -48)
  point P0 (65.3, -35.5)
  point P1 (-65.3, -35.5)
  dimension "d421" = 17
  dimension "d422" = 19
  dimension "d423" = 4.5
  dimension "d424" = 4
  dimension "d425" = 2.25
  dimension "d431" = 17
  dimension "d432" = 19
  dimension "d433" = 4.5
  dimension "d434" = 4
  dimension "d435" = 2.25
  dimension "d437" = 10
  dimension "d439" = 10
  dimension "d443" = 5
  dimension "d444" = 5
extrude "Extrude43" cut sketch "Encoders" along normal blind 3 from surface at -3 contours L0 L1 L3 L6 L77 | L0 L6 L7 L8 L9 | L1 L2 L3 L77
extrude "Extrude44" cut sketch "Encoders" along normal blind 3 from surface at -3 contours L25 L60 L62 L66 | L25 L58 L62 L66 L67 | L58 L59 L61 L63 L67
extrude "Extrude45" cut sketch "Encoders" along normal through all contours L25 L60 L62 L66
extrude "Extrude46" cut sketch "Encoders" along normal through all contours L1 L2 L3 L77
extrude "Extrude47" cut sketch "Switches" along normal through all contours L9 L11 L45 L48 L49 L50 L55 | L9 L45 L48 L55
extrude "Extrude48" cut sketch "Switches" along normal through all contours L9 L11 L57 L58 L61 L62 L66 | L9 L57 L62 L66
extrude "Extrude49" cut sketch "Switches" along normal through all contours L5 L7 L68 L69 L70 L72 L78 | L7 L69 L70 L78
equation "d405 = ( 51 / 2 ) * 1 mm"
equation "d409 = ( 34 / 2 ) * 1 mm"
equation "d413 = -( 3 mm - 1.3 mm )"
equation "d419 = ( 10 / 2 ) * 1 mm"
equation "d425 = ( 4.5 / 2 ) * 1 mm"
equation "d435 = ( 4.5 / 2 ) * 1 mm"
